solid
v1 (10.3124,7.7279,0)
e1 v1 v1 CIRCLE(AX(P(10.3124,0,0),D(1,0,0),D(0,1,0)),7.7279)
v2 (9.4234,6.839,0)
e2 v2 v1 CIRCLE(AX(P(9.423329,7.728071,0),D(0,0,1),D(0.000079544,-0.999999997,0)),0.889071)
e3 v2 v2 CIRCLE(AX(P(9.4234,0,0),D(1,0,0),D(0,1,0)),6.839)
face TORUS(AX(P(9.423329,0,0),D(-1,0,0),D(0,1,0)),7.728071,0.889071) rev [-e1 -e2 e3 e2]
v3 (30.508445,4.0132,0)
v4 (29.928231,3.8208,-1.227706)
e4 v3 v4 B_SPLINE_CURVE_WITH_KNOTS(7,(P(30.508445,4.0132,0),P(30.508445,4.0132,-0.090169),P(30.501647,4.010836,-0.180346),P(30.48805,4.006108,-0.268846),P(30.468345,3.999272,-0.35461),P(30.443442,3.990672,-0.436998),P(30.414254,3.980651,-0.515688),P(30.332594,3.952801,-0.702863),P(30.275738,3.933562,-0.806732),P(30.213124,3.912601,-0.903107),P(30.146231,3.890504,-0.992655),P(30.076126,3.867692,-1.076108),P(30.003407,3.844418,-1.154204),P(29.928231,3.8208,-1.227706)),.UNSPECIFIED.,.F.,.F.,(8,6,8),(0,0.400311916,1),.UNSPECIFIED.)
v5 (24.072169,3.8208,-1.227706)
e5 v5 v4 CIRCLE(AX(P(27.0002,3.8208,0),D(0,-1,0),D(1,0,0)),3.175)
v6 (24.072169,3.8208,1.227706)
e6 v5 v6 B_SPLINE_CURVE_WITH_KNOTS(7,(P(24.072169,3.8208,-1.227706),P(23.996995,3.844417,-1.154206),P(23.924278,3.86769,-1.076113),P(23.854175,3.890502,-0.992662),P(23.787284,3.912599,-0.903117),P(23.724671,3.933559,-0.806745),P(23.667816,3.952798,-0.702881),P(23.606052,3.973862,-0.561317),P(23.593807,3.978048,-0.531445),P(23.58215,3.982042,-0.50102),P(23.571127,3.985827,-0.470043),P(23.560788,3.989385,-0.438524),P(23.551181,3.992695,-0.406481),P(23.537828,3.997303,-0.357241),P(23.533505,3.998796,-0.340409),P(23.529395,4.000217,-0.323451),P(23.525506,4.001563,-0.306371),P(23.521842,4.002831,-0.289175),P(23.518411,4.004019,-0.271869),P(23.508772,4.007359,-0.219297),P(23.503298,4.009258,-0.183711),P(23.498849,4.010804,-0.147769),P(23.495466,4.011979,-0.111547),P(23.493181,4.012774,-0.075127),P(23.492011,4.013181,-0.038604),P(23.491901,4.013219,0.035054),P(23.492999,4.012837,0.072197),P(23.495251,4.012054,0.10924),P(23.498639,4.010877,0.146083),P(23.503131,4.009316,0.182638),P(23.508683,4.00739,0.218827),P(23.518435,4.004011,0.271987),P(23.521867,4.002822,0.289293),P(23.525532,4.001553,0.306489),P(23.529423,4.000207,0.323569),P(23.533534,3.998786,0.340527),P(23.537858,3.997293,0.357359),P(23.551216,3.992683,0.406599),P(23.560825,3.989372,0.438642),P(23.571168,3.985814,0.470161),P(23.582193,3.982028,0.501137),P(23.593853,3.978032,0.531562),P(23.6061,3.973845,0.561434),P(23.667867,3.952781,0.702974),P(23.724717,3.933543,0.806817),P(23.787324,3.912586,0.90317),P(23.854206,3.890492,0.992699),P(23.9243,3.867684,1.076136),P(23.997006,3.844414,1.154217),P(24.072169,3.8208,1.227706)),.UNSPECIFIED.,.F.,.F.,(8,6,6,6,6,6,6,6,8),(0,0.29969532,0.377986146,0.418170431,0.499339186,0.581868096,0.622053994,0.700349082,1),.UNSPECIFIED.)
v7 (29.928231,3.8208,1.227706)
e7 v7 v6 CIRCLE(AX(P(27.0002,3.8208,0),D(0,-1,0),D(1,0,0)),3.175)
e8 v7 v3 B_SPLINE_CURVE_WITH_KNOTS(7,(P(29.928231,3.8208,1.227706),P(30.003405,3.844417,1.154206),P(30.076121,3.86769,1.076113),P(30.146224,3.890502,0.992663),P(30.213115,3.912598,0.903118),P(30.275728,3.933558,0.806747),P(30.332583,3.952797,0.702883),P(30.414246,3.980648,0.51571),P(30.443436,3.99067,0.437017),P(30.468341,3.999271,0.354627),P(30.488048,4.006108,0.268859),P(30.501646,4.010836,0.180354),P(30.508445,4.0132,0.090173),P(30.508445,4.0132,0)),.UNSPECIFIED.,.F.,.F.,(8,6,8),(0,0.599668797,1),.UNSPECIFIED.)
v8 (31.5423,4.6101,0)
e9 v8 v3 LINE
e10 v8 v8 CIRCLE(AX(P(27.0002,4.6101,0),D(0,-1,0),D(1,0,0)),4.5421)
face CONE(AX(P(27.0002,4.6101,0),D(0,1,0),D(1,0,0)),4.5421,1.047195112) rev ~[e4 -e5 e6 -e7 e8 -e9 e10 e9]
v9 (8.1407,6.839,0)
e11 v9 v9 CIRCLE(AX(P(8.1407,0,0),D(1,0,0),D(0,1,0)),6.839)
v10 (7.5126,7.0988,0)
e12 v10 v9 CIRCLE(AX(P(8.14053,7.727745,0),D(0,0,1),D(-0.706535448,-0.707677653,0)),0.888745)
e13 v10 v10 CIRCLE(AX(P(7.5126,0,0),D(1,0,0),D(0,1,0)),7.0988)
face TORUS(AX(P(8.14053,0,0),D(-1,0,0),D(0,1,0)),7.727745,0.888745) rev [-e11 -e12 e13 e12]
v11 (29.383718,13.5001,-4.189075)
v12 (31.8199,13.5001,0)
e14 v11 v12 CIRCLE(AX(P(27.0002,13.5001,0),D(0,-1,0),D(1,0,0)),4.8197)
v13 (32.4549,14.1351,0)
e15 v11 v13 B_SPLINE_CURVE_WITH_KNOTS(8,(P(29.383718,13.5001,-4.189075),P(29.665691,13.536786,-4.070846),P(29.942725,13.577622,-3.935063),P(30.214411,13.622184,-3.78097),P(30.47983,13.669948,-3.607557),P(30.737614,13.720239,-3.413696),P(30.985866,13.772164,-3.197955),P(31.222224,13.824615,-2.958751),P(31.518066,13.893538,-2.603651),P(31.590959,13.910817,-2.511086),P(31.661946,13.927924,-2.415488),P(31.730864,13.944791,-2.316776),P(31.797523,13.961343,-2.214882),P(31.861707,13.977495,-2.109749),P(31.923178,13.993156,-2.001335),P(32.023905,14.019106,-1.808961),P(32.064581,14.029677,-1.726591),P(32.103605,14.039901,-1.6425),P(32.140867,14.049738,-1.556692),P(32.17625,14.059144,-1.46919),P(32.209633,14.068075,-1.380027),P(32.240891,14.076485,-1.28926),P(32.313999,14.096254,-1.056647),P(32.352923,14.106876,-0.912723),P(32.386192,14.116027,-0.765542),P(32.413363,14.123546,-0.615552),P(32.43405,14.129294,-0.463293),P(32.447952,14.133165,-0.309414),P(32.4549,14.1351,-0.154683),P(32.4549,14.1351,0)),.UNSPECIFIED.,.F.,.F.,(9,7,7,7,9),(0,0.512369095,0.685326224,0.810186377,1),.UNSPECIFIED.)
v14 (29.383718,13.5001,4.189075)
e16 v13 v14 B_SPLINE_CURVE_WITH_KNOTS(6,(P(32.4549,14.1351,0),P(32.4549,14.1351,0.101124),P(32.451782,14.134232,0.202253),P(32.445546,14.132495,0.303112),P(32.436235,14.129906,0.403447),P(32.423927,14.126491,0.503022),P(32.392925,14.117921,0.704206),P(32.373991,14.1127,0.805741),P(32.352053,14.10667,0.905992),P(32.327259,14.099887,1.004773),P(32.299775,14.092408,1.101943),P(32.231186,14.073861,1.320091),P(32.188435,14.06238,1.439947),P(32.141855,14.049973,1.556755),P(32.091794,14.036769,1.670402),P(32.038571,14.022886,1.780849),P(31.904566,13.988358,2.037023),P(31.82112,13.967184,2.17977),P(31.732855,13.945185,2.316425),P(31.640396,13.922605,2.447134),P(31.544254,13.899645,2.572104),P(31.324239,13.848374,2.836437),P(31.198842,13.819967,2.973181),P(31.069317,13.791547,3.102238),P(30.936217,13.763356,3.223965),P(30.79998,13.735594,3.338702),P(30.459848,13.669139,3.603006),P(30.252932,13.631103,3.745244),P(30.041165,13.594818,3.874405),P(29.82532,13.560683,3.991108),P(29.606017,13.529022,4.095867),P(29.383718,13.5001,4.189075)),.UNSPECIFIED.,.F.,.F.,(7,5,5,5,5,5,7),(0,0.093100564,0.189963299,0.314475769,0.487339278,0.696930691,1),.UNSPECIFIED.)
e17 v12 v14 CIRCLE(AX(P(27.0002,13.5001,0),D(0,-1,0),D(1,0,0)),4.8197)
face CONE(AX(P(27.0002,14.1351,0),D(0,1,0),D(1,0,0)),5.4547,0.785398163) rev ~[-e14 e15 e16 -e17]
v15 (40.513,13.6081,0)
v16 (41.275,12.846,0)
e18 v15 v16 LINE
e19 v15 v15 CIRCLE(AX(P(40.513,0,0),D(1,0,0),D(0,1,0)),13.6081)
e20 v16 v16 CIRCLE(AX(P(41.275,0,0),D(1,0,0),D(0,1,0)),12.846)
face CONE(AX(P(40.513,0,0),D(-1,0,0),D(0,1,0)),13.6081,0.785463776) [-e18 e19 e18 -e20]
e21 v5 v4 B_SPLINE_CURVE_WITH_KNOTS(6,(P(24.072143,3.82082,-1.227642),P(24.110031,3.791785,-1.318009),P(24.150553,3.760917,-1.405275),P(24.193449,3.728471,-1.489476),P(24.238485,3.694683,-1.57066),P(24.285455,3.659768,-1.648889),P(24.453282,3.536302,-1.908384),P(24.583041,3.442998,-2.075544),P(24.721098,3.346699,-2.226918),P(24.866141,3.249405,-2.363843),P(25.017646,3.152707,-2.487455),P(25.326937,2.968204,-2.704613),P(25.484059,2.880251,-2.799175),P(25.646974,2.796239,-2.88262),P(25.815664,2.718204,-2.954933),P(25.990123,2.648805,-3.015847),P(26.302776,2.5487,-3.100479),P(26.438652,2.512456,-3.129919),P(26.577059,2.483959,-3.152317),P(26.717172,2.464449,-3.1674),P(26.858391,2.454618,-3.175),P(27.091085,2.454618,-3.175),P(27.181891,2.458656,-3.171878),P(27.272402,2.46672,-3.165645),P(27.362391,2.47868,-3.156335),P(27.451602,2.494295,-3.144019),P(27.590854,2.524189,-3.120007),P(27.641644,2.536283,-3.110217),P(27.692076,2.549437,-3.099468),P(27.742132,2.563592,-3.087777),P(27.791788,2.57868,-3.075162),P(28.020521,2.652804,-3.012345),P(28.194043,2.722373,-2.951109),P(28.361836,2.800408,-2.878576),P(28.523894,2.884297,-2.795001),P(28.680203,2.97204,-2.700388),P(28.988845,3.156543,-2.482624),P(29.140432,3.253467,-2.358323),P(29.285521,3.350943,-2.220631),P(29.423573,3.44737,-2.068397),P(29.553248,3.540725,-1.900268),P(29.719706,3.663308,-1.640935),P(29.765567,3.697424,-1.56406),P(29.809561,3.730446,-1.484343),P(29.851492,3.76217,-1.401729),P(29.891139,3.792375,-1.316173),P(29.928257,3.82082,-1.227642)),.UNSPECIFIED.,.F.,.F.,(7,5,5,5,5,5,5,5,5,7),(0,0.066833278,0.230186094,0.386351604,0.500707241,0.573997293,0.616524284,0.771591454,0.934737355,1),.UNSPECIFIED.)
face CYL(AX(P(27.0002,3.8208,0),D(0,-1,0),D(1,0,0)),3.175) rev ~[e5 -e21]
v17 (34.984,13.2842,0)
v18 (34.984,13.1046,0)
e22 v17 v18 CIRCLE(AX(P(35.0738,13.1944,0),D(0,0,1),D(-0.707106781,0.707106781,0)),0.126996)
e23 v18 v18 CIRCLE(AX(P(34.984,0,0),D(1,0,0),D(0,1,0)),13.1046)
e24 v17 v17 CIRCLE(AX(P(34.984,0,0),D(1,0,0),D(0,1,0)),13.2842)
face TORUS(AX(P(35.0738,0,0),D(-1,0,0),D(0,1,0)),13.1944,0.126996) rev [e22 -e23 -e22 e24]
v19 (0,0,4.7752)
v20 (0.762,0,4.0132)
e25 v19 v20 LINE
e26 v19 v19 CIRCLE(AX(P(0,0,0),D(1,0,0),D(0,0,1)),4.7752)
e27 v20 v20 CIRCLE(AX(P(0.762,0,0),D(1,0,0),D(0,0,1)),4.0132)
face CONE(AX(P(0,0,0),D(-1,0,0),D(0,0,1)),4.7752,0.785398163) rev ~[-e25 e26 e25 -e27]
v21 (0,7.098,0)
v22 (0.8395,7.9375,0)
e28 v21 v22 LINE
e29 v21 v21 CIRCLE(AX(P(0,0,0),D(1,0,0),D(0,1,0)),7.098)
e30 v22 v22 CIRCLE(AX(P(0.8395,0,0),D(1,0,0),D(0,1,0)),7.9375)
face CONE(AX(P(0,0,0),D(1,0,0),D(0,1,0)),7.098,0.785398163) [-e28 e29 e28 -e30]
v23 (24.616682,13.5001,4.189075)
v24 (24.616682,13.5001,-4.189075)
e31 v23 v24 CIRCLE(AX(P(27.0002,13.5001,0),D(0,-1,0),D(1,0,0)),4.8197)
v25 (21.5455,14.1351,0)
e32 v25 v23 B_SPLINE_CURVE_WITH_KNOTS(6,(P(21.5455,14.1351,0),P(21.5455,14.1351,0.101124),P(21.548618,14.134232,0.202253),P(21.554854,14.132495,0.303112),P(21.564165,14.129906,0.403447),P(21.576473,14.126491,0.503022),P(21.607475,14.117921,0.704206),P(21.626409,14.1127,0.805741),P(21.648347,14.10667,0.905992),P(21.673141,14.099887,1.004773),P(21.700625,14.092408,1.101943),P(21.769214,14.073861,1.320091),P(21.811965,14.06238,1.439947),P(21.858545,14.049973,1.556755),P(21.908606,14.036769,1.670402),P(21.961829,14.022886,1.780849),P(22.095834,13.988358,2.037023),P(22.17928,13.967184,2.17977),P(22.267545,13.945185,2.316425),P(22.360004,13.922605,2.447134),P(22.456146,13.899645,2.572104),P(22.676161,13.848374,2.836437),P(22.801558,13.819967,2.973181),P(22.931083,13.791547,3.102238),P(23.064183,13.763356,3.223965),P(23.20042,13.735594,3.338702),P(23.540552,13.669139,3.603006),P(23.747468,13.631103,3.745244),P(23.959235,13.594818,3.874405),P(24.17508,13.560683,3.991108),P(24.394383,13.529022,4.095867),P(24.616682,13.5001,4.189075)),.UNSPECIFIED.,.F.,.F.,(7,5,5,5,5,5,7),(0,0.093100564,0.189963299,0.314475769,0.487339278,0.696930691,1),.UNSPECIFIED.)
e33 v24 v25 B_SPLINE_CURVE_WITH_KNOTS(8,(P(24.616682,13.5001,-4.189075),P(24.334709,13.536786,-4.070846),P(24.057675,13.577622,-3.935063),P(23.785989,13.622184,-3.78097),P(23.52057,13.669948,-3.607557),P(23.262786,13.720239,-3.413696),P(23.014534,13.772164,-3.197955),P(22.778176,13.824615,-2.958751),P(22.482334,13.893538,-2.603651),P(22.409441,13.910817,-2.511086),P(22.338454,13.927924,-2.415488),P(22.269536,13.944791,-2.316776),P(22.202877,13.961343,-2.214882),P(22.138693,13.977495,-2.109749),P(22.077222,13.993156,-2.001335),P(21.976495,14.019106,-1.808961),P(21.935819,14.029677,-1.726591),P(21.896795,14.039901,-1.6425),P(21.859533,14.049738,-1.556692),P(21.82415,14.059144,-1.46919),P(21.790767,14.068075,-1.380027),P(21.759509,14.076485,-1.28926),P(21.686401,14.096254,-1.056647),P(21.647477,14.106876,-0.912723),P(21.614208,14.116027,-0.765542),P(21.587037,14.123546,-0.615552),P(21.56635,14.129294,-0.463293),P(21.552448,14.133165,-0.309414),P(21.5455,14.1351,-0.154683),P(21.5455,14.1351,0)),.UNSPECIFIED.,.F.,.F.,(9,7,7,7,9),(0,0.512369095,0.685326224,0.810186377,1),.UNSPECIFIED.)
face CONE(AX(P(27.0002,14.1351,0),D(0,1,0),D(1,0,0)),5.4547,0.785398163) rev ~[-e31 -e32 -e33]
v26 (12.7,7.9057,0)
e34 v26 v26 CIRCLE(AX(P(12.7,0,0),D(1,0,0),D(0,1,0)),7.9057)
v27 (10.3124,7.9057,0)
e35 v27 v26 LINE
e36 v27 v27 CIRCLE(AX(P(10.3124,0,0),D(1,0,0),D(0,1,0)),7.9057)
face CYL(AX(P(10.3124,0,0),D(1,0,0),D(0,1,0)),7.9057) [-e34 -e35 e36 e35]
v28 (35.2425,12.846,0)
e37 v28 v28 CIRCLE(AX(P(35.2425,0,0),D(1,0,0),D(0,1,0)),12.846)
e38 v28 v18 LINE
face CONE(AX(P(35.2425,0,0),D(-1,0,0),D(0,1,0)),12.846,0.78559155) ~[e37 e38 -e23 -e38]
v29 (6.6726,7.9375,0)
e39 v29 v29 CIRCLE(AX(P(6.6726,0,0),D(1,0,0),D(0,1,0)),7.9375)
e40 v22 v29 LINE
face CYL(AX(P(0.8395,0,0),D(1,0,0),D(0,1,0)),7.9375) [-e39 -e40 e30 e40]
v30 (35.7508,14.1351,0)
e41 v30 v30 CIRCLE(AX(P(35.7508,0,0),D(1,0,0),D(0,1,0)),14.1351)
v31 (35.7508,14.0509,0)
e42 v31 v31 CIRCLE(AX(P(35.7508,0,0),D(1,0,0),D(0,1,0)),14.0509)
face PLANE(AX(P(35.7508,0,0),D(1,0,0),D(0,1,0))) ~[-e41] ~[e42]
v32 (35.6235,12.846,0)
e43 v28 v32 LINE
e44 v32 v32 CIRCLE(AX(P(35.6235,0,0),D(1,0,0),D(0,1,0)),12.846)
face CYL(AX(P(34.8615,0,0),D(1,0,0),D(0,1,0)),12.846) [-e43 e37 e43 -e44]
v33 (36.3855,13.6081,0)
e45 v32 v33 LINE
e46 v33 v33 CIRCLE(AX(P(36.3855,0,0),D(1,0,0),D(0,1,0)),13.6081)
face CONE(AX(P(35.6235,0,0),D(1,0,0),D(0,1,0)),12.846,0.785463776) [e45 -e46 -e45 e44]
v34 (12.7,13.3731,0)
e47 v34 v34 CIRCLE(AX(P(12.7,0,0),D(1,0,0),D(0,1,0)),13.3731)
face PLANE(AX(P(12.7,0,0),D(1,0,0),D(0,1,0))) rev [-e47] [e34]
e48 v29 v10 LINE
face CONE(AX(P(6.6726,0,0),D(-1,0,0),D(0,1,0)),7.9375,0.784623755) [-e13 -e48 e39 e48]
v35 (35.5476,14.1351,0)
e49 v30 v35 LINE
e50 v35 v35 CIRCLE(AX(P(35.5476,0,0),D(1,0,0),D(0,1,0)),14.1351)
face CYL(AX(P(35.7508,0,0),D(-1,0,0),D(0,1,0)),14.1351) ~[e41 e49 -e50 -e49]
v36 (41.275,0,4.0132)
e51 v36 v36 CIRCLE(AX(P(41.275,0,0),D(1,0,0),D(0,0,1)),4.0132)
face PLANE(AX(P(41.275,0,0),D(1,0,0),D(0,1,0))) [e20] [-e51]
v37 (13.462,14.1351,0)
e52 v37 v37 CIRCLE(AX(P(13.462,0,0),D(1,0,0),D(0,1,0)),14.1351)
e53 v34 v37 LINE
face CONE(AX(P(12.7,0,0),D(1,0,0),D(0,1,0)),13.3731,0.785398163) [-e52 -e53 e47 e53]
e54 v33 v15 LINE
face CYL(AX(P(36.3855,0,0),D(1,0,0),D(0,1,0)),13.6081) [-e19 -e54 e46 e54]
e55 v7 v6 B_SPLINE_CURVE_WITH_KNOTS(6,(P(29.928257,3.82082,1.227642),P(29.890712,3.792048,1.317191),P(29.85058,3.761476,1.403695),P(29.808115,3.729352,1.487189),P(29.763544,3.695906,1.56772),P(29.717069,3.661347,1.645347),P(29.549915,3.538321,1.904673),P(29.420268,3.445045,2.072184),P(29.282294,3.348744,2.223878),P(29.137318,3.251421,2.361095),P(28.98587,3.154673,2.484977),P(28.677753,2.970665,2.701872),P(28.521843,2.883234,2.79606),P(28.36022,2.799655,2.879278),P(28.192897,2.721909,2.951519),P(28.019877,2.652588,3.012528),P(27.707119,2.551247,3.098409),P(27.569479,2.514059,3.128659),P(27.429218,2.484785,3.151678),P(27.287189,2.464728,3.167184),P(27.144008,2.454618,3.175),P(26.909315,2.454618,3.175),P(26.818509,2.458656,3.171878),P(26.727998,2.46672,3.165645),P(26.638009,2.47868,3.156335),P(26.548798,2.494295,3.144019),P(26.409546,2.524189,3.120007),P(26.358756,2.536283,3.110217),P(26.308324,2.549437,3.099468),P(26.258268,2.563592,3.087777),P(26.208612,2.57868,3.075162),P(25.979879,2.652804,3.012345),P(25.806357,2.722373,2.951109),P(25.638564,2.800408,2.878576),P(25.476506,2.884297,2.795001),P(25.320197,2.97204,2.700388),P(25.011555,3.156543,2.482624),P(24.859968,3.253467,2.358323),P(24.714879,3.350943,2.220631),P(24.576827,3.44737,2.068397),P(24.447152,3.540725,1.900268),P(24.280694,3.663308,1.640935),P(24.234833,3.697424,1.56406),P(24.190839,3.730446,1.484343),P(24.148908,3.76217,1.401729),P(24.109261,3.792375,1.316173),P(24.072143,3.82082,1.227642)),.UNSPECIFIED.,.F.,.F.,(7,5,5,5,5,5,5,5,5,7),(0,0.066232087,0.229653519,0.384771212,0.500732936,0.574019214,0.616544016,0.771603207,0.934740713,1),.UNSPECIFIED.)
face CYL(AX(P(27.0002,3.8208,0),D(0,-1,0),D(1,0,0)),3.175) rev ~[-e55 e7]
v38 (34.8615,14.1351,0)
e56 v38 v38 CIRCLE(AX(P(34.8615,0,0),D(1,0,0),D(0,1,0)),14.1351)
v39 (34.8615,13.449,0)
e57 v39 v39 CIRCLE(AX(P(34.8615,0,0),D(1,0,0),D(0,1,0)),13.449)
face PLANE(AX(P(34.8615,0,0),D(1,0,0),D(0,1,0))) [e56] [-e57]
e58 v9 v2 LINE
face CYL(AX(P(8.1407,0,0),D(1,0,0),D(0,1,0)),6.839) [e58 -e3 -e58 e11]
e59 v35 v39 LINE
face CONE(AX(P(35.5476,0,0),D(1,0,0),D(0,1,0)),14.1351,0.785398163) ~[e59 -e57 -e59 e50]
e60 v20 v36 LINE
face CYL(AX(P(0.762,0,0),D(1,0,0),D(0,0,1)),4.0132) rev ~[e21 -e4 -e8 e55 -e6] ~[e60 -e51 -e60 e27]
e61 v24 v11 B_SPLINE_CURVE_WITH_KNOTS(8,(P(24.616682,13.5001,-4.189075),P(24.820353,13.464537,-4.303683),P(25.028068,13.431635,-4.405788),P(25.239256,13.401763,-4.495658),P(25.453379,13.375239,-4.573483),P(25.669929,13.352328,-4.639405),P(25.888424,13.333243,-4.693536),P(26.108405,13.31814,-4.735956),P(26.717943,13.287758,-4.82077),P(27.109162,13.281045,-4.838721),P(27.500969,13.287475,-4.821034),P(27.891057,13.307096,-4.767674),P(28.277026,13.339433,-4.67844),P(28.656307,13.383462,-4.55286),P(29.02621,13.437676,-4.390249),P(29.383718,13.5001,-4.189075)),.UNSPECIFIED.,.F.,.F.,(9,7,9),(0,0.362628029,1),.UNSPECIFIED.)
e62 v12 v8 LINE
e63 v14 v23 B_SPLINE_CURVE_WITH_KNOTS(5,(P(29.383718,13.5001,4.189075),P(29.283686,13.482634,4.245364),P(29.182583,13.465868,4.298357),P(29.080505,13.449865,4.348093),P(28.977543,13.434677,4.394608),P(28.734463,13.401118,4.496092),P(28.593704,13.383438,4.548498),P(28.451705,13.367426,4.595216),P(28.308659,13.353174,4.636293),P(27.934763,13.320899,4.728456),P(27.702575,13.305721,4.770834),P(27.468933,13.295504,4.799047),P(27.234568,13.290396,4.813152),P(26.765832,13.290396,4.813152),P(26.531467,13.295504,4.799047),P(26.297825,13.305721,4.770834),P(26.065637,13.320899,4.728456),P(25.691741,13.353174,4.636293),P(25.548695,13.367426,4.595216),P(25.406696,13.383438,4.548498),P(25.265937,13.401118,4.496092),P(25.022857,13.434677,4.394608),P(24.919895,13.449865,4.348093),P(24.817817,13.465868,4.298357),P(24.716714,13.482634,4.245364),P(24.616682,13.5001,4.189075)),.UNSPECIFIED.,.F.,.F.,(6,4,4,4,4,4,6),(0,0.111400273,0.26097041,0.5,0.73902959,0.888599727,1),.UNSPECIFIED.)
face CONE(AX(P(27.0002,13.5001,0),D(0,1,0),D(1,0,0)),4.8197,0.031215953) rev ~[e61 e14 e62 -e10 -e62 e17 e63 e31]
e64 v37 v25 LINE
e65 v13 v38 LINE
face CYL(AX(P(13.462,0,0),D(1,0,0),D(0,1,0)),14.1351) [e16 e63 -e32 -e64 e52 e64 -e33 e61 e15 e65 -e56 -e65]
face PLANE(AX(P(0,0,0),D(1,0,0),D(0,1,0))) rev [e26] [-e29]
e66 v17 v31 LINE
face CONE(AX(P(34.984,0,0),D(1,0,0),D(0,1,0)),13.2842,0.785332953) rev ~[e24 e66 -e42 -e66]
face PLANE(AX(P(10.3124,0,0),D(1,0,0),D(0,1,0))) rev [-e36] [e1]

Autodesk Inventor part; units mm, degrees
sketch "Sketch_2" plane through (0, 0, 0) normal (0, 0, 1) x (1, 0, 0)
  line L0 (12.7, 0) -> (0, 0)
  line L1 (0, 0) -> (0, 7.098)
  line L2 (0, 7.098) -> (0.8395, 7.9375)
  line L3 (0.8395, 7.9375) -> (6.6726, 7.9375)
  line L4 (6.6726, 7.9375) -> (7.5126, 7.0988)
  arc A0 (7.5126, 7.0988) -> (8.1407, 6.839) centre (8.1407, 7.728) ccw
  line L5 (8.1407, 6.839) -> (9.4234, 6.839)
  arc A1 (9.4234, 6.839) -> (10.3124, 7.7279) centre (9.4234, 7.7279) ccw
  line L6 (10.3124, 7.7279) -> (10.3124, 7.9057)
  line L7 (10.3124, 7.9057) -> (12.7, 7.9057)
  line L8 (12.7, 7.9057) -> (12.7, 0)
  line L9 (12.7, 0) -> (0, 0)
revolve "Revolution1" add sketch "Sketch_2" angle 360 about axis through (12.7, 0, 0) along (1, 0, 0)
thread "Thread1" size "5/8-18 UNF" class "2A" standard "ANSI Unified Screw Threads" full length
sketch "Sketch_3" plane through (0, 0, 0) normal (0, 0, 1) x (1, 0, 0)
  line L0 (41.275, 0) -> (12.7, 0)
  line L1 (12.7, 0) -> (12.7, 13.3731)
  line L2 (12.7, 13.3731) -> (13.462, 14.1351)
  line L3 (13.462, 14.1351) -> (34.8615, 14.1351)
  line L4 (34.8615, 14.1351) -> (34.8615, 12.846)
  line L5 (34.8615, 12.846) -> (35.6235, 12.846)
  line L6 (35.6235, 12.846) -> (36.3855, 13.6081)
  line L7 (36.3855, 13.6081) -> (40.513, 13.6081)
  line L8 (40.513, 13.6081) -> (41.275, 12.846)
  line L9 (41.275, 12.846) -> (41.275, 0)
  line L10 (41.275, 0) -> (12.7, 0)
revolve "Revolution2" add sketch "Sketch_3" angle 360 about axis through (41.275, 0, 0) along (1, 0, 0)
sketch "Sketch3" plane through (0, 0, 0) normal (-1, 0, 0) x (0, 0, 1)
  point P0 (0, 0)
hole "Hole1" at (0, 0, 0) direction (1, 0, 0) diameter 8.0264 depth 41.275 countersink diameter 9.5504 countersink angle 90
sketch "Sketch_43" plane through (0, 0, 0) normal (0, 0, 1) x (1, 0, 0)
  line L0 (27.0002, 0) -> (27.0002, 14.1351)
  line L1 (27.0002, 14.1351) -> (32.4549, 14.1351)
  line L2 (32.4549, 14.1351) -> (31.8199, 13.5001)
  line L3 (31.8199, 13.5001) -> (31.5423, 4.6101)
  line L4 (31.5423, 4.6101) -> (30.1752, 3.8208)
  line L5 (30.1752, 3.8208) -> (30.1752, 0)
  line L6 (30.1752, 0) -> (27.0002, 0)
  line L7 (27.0002, 0) -> (27.0002, 14.1351)
revolve "Revolution3" cut sketch "Sketch_43" angle 360 about axis through (27.0002, 0, 0) along (0, -1, 0)
thread "Thread2" size "1/8" designation "1/8 - 27 NPT" standard "NPT" length 5.0825
sketch "Sketch_47" plane through (0, 0, 0) normal (0, 0, 1) x (1, 0, 0)
  line L0 (35.6235, 0) -> (34.8615, 0)
  line L1 (34.8615, 13.449) -> (34.8615, 12.5921)
  line L2 (34.8615, 12.5921) -> (35.6235, 12.5921)
  line L3 (35.6235, 12.5921) -> (35.6235, 12.846)
  line L4 (35.6235, 12.846) -> (35.2425, 12.846)
  line L5 (35.2425, 12.846) -> (34.984, 13.1046)
  arc A0 (34.984, 13.2842) -> (34.984, 13.1046) centre (35.0738, 13.1944) ccw
  line L6 (34.984, 13.2842) -> (35.7508, 14.0509)
  line L7 (35.7508, 14.0509) -> (35.7508, 14.1351)
  line L8 (35.7508, 14.1351) -> (35.5476, 14.1351)
  line L9 (35.5476, 14.1351) -> (34.8615, 13.449)
revolve "Revolution4" add sketch "Sketch_47" angle 360 about axis through (35.6235, 0, 0) along (1, 0, 0)
ref_plane "dp1_XY" through (12.7, 7.9057, 0) normal (0, 0, 1) x (1, 0, 0)
ref_plane "dp1_YZ" through (12.7, 7.9057, 0) normal (1, 0, 0) x (0, 1, 0)
ref_plane "dp1_ZX" through (12.7, 7.9057, 0) normal (0, 1, 0) x (0, 0, 1)
ref_plane "dp2_XY" through (12.7, -7.9057, 0) normal (0, 0, 1) x (1, 0, 0)
ref_plane "dp2_YZ" through (12.7, -7.9057, 0) normal (1, 0, 0) x (0, 1, 0)
ref_plane "dp2_ZX" through (12.7, -7.9057, 0) normal (0, 1, 0) x (0, 0, 1)
ref_plane "hh_XY" through (0, 7.9375, 0) normal (0, 0, 1) x (1, 0, 0)
ref_plane "hh_YZ" through (0, 7.9375, 0) normal (1, 0, 0) x (0, 1, 0)
ref_plane "hh_ZX" through (0, 7.9375, 0) normal (0, 1, 0) x (0, 0, 1)
ref_plane "port_XY" through (27.0002, 14.1351, 0) normal (0, 0, 1) x (1, 0, 0)
ref_plane "port_YZ" through (27.0002, 14.1351, 0) normal (1, 0, 0) x (0, 1, 0)
ref_plane "port_ZX" through (27.0002, 14.1351, 0) normal (0, 1, 0) x (0, 0, 1)
ref_plane "rod_guide_XY" through (0, 0, 0) normal (1, 0, 0) x (0, 0, -1)
ref_plane "rod_guide_YZ" through (0, 0, 0) normal (0, 0, -1) x (0, 1, 0)
ref_plane "rod_guide_ZX" through (0, 0, 0) normal (0, 1, 0) x (1, 0, 0)
ref_plane "s1_XY" through (10.3124, 0, 0) normal (0, 0, 1) x (1, 0, 0)
ref_plane "s1_YZ" through (10.3124, 0, 0) normal (1, 0, 0) x (0, 1, 0)
ref_plane "s1_ZX" through (10.3124, 0, 0) normal (0, 1, 0) x (0, 0, 1)
ref_plane "s2_XY" through (12.7, 0, 0) normal (0, 0, 1) x (1, 0, 0)
ref_plane "s2_YZ" through (12.7, 0, 0) normal (1, 0, 0) x (0, 1, 0)
ref_plane "s2_ZX" through (12.7, 0, 0) normal (0, 1, 0) x (0, 0, 1)
ref_plane "t1_XY" through (12.7, 0, 0) normal (1, 0, 0) x (0, 0, -1)
ref_plane "t1_YZ" through (12.7, 0, 0) normal (0, 0, -1) x (0, 1, 0)
ref_plane "t1_ZX" through (12.7, 0, 0) normal (0, 1, 0) x (1, 0, 0)
ref_plane "t111_XY" through (12.7, 0, 0) normal (1, 0, 0) x (0, 0, -1)
ref_plane "t111_YZ" through (12.7, 0, 0) normal (0, 0, -1) x (0, 1, 0)
ref_plane "t111_ZX" through (12.7, 0, 0) normal (0, 1, 0) x (1, 0, 0)
ref_plane "to_foot_bracket_XY" through (12.7, 0, 0) normal (1, 0, 0) x (0, 0, -1)
ref_plane "to_foot_bracket_YZ" through (12.7, 0, 0) normal (0, 0, -1) x (0, 1, 0)
ref_plane "to_foot_bracket_ZX" through (12.7, 0, 0) normal (0, 1, 0) x (1, 0, 0)
ref_plane "to_nut_XY" through (10.3124, 0, 0) normal (1, 0, 0) x (0, 0, -1)
ref_plane "to_nut_YZ" through (10.3124, 0, 0) normal (0, 0, -1) x (0, 1, 0)
ref_plane "to_nut_ZX" through (10.3124, 0, 0) normal (0, 1, 0) x (1, 0, 0)
ref_plane "to_rod_XY" through (0, 0, 0) normal (1, 0, 0) x (0, 0, -1)
ref_plane "to_rod_YZ" through (0, 0, 0) normal (0, 0, -1) x (0, 1, 0)
ref_plane "to_rod_ZX" through (0, 0, 0) normal (0, 1, 0) x (1, 0, 0)
ref_plane "to_screw_XY" through (27.0002, -7.0485, -10.2743) normal (0, 0, -1) x (1, 0, 0)
ref_plane "to_screw_YZ" through (27.0002, -7.0485, -10.2743) normal (1, 0, 0) x (0, -1, 0)
ref_plane "to_screw_ZX" through (27.0002, -7.0485, -10.2743) normal (0, -1, 0) x (0, 0, -1)
ref_plane "to_trunnion_brackets_XY" through (18.2118, 0, 0) normal (0, 1, 0) x (1, 0, 0)
ref_plane "to_trunnion_brackets_YZ" through (18.2118, 0, 0) normal (1, 0, 0) x (0, 0, -1)
ref_plane "to_trunnion_brackets_ZX" through (18.2118, 0, 0) normal (0, 0, -1) x (0, 1, 0)
ref_plane "to_trunnion_brackets1_XY" through (18.2118, 15.875, 0) normal (0, 1, 0) x (1, 0, 0)
ref_plane "to_trunnion_brackets1_YZ" through (18.2118, 15.875, 0) normal (1, 0, 0) x (0, 0, -1)
ref_plane "to_trunnion_brackets1_ZX" through (18.2118, 15.875, 0) normal (0, 0, -1) x (0, 1, 0)
ref_plane "to_trunnion_brackets2_XY" through (18.2118, -15.875, 0) normal (0, 1, 0) x (1, 0, 0)
ref_plane "to_trunnion_brackets2_YZ" through (18.2118, -15.875, 0) normal (1, 0, 0) x (0, 0, -1)
ref_plane "to_trunnion_brackets2_ZX" through (18.2118, -15.875, 0) normal (0, 0, -1) x (0, 1, 0)
ref_plane "to_tube_XY" through (35.6235, 0, 0) normal (1, 0, 0) x (0, 0, -1)
ref_plane "to_tube_YZ" through (35.6235, 0, 0) normal (0, 0, -1) x (0, 1, 0)
ref_plane "to_tube_ZX" through (35.6235, 0, 0) normal (0, 1, 0) x (1, 0, 0)
properties part number "09RK000-0_rod_guide"
